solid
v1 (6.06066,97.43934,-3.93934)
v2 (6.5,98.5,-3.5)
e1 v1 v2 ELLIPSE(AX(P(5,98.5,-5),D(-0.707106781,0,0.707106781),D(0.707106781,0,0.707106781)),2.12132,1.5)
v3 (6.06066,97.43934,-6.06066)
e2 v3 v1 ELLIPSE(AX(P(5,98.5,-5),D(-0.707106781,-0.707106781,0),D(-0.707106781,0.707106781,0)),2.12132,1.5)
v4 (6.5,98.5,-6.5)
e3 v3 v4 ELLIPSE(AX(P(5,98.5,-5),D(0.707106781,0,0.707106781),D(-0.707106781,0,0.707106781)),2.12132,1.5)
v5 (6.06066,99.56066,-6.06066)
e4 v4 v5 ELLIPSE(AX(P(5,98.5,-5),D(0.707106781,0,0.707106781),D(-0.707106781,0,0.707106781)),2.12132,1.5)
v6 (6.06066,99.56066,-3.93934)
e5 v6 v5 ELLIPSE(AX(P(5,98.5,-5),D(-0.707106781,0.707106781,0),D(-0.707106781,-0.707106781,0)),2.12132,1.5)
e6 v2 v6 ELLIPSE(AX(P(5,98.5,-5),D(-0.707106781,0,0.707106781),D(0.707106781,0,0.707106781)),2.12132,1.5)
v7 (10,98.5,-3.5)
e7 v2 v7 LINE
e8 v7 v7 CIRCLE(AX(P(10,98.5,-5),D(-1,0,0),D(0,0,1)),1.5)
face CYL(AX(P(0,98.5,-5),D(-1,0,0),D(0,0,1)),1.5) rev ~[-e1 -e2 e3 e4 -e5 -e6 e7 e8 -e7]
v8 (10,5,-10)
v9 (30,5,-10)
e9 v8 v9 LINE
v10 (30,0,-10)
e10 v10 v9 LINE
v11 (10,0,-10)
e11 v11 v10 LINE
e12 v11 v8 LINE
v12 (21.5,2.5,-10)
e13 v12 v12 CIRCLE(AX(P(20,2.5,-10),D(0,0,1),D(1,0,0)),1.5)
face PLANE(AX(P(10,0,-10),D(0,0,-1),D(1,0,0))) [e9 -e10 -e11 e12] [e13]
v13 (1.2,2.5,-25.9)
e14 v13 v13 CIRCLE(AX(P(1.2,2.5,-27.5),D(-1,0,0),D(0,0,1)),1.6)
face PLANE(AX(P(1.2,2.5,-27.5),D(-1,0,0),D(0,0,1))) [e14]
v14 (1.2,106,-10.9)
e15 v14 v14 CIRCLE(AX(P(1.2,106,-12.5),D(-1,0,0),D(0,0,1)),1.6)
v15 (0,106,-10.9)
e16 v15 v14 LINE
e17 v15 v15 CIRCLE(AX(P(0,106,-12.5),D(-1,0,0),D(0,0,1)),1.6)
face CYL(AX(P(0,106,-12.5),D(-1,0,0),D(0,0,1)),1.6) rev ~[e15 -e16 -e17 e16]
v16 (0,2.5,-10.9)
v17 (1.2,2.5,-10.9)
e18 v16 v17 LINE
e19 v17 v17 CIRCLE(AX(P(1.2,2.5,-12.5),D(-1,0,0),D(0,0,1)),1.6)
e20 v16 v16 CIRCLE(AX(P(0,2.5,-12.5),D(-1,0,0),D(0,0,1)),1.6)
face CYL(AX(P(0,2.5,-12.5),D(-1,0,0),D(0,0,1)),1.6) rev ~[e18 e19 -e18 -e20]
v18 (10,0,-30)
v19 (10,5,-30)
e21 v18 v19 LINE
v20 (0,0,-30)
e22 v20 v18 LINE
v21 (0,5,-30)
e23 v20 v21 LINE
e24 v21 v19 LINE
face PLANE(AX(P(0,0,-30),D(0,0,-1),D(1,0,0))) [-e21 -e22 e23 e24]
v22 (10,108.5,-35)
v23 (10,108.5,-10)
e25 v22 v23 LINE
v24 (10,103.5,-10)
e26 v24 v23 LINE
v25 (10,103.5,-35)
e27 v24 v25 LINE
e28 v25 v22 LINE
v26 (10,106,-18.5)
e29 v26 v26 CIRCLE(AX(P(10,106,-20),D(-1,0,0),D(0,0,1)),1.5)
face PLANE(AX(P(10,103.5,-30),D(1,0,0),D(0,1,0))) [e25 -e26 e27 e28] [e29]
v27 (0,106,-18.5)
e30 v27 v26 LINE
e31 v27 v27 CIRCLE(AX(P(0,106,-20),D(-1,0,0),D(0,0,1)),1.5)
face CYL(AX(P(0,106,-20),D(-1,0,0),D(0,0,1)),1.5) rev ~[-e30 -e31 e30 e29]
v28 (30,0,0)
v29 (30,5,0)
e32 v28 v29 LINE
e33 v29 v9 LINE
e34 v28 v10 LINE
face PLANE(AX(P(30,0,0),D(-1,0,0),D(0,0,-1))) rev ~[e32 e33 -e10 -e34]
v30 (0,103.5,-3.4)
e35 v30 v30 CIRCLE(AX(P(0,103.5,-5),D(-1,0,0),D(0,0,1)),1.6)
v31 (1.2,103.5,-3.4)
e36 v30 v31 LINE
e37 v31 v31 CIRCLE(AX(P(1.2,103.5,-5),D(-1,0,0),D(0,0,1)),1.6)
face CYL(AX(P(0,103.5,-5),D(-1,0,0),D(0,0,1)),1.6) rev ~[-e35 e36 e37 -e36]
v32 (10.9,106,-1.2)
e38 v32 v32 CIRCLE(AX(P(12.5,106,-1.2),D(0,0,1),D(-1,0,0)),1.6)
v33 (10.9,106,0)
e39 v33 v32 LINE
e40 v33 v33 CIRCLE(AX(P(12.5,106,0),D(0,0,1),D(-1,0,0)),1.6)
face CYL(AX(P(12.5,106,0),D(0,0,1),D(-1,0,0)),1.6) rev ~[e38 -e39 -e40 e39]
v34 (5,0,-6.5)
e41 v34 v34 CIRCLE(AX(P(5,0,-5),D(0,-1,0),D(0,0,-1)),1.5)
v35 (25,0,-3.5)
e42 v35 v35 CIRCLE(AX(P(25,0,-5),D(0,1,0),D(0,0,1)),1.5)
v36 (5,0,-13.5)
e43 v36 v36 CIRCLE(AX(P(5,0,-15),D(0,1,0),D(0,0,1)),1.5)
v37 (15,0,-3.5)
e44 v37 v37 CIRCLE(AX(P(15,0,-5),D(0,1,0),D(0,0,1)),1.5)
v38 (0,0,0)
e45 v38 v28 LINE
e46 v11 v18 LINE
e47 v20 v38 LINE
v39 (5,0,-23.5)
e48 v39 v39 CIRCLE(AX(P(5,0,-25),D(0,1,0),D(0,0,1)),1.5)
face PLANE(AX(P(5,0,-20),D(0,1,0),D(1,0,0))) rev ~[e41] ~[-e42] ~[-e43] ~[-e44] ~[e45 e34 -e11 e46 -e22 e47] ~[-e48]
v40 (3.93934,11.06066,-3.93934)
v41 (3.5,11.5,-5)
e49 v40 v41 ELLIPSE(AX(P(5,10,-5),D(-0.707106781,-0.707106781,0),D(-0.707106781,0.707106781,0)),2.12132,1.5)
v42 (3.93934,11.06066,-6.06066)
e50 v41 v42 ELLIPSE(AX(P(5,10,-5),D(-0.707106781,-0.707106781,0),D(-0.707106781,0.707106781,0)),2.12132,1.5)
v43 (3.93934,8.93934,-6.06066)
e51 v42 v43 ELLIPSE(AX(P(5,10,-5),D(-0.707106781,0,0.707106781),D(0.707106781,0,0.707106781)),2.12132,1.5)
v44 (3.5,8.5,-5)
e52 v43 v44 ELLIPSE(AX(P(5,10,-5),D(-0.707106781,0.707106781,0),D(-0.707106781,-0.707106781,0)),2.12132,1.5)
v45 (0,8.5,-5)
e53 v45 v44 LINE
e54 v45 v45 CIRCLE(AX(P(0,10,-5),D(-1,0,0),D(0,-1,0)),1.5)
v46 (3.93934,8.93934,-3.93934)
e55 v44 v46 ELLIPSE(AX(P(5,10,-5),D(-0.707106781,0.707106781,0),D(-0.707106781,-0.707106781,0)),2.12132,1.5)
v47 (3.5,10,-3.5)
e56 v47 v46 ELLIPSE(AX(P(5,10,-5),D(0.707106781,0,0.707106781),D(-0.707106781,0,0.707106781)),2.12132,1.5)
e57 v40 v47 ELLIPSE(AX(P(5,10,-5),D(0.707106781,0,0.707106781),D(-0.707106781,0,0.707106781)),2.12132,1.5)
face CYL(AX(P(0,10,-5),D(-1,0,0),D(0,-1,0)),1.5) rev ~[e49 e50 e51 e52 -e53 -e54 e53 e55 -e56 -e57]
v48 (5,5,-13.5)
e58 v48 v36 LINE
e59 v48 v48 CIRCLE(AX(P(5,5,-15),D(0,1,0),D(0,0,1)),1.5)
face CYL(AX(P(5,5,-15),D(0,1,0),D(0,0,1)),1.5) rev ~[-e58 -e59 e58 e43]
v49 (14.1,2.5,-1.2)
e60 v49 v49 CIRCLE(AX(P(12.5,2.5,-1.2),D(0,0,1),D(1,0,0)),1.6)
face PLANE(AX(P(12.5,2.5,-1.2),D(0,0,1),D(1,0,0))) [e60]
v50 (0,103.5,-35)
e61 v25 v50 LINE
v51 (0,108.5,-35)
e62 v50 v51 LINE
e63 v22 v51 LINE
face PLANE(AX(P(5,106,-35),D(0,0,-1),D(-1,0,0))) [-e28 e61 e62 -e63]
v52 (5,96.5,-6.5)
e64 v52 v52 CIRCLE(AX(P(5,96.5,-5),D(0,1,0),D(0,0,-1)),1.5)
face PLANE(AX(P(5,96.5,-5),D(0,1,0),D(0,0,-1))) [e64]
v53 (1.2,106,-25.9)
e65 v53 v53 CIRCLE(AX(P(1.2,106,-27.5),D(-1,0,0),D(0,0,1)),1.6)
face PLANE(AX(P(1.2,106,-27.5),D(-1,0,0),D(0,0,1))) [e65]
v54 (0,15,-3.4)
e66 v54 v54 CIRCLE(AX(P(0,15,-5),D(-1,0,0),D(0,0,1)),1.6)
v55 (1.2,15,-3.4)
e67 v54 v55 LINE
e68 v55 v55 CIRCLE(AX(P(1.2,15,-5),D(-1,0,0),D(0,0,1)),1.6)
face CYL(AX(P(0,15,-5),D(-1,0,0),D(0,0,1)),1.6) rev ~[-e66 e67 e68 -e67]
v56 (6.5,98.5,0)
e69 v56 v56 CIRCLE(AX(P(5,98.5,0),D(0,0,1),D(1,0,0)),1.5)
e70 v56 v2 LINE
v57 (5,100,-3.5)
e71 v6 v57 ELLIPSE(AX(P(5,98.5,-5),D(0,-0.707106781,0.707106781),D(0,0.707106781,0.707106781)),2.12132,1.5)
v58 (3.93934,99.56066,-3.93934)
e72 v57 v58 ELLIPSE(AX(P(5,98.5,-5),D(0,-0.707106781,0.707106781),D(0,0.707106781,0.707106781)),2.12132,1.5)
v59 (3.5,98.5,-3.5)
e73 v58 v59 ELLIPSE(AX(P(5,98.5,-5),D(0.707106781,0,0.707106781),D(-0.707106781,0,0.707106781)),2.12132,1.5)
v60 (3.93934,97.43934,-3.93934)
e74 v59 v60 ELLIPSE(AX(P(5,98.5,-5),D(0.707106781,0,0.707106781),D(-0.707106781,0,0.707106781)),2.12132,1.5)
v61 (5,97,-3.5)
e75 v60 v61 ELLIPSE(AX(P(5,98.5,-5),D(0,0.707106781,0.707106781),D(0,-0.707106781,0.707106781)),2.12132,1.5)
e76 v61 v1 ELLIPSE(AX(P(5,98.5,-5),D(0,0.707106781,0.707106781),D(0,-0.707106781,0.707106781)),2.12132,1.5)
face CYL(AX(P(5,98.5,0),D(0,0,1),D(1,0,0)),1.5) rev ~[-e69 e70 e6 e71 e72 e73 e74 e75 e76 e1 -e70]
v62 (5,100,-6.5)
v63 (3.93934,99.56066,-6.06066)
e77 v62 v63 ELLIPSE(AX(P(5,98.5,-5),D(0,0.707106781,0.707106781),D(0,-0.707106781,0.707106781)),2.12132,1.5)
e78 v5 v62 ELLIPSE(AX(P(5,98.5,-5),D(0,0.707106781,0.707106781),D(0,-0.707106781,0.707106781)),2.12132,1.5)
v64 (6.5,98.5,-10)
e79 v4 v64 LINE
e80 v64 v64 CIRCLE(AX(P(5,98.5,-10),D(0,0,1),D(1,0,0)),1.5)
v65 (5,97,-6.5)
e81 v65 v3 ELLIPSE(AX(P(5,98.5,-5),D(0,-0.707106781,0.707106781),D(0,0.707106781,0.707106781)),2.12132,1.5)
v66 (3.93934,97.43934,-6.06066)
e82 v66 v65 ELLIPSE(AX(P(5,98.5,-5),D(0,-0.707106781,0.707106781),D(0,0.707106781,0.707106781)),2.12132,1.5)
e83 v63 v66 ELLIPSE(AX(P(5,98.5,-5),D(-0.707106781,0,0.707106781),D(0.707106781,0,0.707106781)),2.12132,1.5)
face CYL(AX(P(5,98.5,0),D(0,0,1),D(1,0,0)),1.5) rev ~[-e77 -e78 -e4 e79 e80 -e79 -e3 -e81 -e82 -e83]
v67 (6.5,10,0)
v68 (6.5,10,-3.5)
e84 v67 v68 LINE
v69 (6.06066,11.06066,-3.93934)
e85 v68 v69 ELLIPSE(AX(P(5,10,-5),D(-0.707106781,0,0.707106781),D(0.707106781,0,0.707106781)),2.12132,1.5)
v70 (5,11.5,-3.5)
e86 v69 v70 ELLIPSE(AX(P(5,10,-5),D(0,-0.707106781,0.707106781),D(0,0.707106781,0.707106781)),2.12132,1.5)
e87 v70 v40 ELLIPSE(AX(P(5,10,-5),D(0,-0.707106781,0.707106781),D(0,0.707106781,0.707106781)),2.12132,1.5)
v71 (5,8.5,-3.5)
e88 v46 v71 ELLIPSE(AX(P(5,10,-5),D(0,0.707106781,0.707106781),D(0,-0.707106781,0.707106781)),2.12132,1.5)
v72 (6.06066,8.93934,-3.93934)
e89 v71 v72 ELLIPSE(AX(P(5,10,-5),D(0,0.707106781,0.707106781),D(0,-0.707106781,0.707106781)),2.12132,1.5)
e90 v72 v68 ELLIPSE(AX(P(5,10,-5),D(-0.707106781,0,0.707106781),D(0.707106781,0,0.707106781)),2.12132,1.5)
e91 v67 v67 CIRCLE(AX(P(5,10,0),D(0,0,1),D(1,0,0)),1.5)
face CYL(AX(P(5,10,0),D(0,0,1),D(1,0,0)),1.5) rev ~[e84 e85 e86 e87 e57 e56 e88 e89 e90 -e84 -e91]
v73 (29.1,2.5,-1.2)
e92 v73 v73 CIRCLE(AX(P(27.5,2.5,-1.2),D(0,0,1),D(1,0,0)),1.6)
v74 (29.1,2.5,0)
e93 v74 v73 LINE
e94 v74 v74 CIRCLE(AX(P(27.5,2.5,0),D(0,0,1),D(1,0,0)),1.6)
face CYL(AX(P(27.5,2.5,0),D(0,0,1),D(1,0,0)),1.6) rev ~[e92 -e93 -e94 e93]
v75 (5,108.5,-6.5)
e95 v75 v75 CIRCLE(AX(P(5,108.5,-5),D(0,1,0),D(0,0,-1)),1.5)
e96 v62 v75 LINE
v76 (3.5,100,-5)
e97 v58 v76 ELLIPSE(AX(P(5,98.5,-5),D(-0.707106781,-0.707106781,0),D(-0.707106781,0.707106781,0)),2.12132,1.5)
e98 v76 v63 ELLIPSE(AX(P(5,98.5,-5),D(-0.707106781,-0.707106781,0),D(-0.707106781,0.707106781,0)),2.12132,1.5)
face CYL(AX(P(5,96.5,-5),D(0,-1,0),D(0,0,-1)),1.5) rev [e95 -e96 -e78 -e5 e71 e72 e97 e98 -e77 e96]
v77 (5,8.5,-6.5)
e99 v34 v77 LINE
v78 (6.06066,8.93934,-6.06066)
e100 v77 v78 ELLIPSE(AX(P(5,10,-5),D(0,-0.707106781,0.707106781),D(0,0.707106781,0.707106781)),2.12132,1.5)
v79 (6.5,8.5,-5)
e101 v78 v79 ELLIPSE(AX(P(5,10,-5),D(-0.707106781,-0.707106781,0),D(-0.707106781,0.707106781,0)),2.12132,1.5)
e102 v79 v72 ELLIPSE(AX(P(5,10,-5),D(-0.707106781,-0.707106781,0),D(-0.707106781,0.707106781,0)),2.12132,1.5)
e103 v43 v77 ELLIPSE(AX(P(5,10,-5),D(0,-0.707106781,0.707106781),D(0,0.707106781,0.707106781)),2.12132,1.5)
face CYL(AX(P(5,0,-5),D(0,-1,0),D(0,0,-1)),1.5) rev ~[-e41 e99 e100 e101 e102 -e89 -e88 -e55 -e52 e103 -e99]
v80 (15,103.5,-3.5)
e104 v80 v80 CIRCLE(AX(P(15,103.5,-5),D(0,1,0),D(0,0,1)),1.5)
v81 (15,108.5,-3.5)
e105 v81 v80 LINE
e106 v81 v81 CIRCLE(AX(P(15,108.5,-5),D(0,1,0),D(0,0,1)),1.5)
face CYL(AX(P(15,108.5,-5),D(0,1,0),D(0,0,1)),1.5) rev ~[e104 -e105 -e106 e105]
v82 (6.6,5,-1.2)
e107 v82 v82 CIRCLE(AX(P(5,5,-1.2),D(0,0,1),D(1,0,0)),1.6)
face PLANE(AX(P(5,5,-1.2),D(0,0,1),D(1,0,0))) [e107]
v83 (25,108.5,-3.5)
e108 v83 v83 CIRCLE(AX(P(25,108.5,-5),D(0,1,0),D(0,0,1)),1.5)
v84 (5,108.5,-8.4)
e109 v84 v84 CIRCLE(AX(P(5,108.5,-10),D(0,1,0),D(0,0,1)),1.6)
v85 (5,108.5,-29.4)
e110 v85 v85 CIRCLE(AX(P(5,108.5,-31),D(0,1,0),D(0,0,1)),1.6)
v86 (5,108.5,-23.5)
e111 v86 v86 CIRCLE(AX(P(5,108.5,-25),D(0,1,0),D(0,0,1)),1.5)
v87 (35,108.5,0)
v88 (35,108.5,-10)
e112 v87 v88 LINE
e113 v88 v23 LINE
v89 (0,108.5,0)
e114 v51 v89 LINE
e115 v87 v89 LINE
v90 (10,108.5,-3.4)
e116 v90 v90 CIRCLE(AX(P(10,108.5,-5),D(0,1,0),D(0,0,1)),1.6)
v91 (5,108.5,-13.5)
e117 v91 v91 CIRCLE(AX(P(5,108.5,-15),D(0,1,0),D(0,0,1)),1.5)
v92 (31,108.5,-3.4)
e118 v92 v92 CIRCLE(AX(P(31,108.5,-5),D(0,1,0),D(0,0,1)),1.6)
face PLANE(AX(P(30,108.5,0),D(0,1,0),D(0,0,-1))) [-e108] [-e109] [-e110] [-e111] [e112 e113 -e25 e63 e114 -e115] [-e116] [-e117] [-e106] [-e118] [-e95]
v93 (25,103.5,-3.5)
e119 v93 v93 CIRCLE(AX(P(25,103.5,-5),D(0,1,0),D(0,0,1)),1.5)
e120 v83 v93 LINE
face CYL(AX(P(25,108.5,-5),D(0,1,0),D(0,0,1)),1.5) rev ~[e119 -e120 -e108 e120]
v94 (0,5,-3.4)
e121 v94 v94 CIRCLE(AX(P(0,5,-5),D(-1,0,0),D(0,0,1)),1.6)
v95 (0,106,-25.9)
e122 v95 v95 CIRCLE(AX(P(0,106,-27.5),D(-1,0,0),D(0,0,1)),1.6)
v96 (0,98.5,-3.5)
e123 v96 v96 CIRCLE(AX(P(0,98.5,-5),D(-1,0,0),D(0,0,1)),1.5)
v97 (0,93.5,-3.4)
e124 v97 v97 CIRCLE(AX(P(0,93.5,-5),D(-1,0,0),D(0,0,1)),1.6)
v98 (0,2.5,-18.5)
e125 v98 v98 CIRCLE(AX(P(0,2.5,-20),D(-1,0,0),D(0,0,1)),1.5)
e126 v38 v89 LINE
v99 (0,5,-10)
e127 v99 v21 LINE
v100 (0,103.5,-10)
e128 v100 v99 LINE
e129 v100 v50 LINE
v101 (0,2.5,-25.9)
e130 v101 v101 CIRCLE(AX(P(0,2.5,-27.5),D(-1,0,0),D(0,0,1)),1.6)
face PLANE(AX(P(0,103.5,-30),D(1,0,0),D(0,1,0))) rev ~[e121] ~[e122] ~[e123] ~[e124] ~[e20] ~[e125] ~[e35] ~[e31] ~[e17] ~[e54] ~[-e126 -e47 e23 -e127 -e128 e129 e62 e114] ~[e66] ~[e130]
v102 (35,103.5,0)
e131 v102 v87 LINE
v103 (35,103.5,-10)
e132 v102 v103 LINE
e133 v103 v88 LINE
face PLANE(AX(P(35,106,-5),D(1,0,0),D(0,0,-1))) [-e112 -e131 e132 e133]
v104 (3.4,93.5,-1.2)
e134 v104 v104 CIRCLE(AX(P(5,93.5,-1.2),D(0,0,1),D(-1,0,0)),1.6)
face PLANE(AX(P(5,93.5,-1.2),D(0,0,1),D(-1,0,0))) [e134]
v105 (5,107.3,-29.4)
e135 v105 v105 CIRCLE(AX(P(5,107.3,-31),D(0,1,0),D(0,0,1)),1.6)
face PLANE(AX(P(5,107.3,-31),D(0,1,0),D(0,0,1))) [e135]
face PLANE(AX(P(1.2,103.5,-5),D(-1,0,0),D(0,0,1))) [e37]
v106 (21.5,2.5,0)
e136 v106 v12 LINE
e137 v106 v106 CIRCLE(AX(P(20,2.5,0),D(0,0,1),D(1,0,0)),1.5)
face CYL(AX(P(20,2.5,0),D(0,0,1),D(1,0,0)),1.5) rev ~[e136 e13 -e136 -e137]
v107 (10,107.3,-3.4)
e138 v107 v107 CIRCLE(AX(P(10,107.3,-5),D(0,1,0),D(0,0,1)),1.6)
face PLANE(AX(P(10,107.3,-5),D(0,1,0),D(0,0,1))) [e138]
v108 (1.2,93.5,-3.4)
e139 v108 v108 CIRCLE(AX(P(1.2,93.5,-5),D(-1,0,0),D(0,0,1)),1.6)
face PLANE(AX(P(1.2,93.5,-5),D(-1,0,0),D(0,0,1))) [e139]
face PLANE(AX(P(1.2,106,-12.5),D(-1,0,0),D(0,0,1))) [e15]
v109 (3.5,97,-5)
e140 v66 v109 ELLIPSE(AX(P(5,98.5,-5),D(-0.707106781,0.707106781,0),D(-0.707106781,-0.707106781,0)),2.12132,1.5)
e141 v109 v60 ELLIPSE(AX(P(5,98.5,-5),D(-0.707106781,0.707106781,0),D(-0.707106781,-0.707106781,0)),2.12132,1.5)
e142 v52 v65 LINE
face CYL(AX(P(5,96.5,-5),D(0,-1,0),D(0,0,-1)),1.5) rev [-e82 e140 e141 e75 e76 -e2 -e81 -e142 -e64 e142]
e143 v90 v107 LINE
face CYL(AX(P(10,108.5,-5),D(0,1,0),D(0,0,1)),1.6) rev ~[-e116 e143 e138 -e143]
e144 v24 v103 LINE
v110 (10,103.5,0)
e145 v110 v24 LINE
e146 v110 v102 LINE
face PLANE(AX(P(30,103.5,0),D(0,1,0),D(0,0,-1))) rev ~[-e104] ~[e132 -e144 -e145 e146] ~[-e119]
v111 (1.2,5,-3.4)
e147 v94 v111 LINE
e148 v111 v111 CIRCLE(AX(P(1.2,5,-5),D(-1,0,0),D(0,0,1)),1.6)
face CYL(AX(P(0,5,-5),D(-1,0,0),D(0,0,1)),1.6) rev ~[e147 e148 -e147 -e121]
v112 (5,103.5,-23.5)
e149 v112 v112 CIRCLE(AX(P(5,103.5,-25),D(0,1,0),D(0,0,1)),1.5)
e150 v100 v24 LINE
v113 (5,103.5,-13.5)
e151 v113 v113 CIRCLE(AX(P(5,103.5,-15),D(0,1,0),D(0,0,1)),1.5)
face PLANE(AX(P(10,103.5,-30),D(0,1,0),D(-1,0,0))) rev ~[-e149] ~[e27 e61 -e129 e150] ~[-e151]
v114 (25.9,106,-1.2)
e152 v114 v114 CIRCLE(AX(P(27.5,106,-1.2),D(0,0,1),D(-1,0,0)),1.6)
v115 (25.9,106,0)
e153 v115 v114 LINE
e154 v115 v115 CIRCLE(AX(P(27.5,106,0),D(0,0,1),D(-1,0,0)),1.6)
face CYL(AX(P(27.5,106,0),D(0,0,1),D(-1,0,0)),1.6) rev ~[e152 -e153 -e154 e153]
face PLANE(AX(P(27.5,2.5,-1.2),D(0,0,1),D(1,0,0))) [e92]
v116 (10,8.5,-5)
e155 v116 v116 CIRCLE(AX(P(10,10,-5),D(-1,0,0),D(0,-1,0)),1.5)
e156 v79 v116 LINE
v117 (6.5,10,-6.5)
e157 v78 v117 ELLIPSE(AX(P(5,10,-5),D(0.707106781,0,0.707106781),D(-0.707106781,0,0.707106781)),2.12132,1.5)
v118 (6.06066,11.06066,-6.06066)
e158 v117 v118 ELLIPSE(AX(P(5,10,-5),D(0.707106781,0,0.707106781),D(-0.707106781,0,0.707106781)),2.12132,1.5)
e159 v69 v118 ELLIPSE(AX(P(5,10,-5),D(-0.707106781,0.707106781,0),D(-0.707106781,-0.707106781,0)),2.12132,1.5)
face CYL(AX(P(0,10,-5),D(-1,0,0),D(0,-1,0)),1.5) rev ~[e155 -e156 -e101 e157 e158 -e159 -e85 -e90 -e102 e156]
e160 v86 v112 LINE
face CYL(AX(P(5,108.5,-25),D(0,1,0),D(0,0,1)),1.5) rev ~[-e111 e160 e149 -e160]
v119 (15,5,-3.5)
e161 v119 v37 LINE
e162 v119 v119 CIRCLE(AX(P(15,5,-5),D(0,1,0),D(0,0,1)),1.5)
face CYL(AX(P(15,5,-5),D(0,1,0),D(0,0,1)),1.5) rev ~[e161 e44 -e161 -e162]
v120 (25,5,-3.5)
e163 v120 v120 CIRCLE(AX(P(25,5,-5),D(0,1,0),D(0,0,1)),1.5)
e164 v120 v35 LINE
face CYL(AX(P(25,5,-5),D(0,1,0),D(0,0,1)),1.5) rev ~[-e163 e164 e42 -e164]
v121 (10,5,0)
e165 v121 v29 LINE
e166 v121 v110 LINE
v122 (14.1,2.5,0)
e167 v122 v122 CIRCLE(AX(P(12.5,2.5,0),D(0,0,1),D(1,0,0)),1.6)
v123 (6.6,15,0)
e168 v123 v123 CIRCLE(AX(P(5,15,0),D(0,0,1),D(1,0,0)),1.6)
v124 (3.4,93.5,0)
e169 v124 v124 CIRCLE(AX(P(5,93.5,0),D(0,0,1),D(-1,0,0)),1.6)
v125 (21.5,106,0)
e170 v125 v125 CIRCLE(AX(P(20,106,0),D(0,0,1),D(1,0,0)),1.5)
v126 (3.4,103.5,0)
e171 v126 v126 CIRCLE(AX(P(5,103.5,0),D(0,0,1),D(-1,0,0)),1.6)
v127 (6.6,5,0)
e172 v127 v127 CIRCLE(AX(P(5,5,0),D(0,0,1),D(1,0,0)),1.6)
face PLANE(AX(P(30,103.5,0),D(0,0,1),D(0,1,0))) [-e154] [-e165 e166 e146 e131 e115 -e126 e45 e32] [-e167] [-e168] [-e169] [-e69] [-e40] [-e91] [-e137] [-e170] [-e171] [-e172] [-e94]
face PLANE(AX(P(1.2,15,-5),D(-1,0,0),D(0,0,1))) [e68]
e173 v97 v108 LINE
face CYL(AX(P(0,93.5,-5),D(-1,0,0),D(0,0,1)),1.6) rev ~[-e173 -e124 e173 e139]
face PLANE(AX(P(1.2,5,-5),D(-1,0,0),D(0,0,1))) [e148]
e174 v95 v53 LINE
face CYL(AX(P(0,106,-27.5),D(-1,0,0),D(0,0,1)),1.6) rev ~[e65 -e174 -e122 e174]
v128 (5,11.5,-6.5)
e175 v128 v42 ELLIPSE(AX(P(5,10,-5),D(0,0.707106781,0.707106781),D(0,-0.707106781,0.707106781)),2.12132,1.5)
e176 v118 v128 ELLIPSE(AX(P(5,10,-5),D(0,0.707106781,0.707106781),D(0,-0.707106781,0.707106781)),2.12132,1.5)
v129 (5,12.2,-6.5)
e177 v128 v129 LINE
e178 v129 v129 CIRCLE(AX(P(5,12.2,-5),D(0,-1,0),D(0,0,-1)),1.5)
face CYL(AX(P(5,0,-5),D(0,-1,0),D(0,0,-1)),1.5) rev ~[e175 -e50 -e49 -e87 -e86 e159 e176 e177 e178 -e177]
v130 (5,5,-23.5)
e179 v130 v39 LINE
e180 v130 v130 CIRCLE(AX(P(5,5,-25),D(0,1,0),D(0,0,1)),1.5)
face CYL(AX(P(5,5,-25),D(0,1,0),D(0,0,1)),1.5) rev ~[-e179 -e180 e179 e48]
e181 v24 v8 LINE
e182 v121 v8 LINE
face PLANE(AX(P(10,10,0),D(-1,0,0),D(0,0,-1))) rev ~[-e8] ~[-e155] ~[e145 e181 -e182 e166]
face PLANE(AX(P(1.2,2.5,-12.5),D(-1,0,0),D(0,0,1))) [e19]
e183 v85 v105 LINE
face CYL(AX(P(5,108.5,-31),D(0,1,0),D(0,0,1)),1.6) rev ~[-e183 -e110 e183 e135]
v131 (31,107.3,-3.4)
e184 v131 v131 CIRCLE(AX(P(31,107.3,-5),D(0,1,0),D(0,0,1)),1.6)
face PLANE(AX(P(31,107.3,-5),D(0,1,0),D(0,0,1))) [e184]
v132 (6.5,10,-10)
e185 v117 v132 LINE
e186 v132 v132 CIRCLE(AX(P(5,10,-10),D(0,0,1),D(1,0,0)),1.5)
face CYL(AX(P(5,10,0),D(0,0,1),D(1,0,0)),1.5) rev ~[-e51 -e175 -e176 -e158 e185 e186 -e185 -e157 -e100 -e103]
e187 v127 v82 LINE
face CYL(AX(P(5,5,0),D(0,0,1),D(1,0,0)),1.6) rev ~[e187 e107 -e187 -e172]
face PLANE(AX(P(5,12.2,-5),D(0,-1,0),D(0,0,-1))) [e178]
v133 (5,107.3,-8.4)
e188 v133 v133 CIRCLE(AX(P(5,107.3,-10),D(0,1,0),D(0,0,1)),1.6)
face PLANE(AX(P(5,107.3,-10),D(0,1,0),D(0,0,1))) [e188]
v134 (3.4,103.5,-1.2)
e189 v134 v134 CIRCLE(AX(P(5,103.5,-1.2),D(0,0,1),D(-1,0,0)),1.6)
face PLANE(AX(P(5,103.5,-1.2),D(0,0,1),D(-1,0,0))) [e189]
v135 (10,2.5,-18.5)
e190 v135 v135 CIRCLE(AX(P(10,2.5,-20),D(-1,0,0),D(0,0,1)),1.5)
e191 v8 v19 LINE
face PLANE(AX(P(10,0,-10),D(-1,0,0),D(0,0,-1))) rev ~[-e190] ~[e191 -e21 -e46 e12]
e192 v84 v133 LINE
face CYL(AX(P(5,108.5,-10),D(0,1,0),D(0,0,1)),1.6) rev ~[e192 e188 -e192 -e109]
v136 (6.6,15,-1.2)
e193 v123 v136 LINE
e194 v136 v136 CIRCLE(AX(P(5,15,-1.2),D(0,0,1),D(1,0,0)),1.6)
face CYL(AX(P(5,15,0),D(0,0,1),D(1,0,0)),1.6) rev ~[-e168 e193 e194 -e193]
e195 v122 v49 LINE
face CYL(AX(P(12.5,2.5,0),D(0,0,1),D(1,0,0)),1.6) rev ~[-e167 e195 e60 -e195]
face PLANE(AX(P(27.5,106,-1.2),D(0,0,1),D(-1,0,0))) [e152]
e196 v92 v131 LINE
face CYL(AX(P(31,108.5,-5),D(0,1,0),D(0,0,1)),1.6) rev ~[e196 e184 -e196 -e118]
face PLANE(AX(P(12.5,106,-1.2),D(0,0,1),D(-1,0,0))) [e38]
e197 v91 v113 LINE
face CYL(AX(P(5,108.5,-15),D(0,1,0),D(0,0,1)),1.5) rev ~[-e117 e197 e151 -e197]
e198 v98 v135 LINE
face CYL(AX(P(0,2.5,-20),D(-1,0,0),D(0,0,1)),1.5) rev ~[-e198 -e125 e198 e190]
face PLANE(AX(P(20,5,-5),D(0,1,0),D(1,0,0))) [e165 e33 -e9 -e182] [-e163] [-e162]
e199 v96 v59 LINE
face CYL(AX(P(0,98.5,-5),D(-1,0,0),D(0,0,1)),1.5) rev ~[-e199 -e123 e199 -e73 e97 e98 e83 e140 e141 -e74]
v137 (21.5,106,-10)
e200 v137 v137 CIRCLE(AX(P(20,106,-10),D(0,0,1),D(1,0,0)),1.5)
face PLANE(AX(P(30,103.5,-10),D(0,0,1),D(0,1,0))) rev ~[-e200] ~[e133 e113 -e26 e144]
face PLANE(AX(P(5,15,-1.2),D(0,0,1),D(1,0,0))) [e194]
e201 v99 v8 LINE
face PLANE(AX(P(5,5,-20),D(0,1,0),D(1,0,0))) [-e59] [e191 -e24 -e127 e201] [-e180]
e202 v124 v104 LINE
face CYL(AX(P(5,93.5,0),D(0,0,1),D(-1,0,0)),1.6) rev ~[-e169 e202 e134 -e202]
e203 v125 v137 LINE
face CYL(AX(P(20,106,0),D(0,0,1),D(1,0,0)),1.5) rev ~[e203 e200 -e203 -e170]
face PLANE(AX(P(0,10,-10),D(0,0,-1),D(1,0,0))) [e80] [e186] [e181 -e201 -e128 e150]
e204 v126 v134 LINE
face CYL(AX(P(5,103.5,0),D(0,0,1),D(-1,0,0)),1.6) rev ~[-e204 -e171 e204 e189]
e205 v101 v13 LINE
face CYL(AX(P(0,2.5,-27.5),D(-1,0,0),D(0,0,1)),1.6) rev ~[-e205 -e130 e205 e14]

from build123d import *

# Parameters (mm, degrees)
SKETCH1_W           = 10
SKETCH1_H           = 20
SKETCH1_H_2         = 10
SKETCH1_W_2         = 20
BOSS_EXTRUDE1_DEPTH = 10
SKETCH2_W           = 10
SKETCH2_H           = 10
BOSS_EXTRUDE2_DEPTH = 93.5
SKETCH3_W           = 10
SKETCH3_H           = 20
SKETCH3_H_2         = 10
SKETCH3_W_2         = 20
BOSS_EXTRUDE3_DEPTH = 5
SKETCH4_W           = 20
SKETCH4_H           = 10
SKETCH4_W_2         = 10
SKETCH4_H_2         = 20
CUT_EXTRUDE1_DEPTH  = 5
SKETCH5_R           = 1.6
CUT_EXTRUDE2_DEPTH  = 1.2
SKETCH6_R           = 1.5
CUT_EXTRUDE3_DEPTH  = 10
SKETCH7_R           = 1.6
CUT_EXTRUDE4_DEPTH  = 1.2
SKETCH8_R           = 1.5
CUT_EXTRUDE5_DEPTH  = 10.2
SKETCH9_R           = 1.5
CUT_EXTRUDE6_DEPTH  = 10.2
SKETCH10_R          = 1.5
CUT_EXTRUDE7_DEPTH  = 12.2
SKETCH11_R          = 1.5
CUT_EXTRUDE8_DEPTH  = 10
CUT_EXTRUDE9_START  = -12
SKETCH12_R          = 1.5
CUT_EXTRUDE9_DEPTH  = 12
SKETCH13_R          = 1.6
CUT_EXTRUDE10_DEPTH = 1.2
SKETCH14_W          = 10
SKETCH14_H          = 5
BOSS_EXTRUDE4_DEPTH = 5
SKETCH15_W          = 10
SKETCH15_H          = 5
BOSS_EXTRUDE5_DEPTH = 5
SKETCH16_R          = 1.6
CUT_EXTRUDE11_DEPTH = 1.2


with BuildPart() as part:
    # Sketch1 → Boss-Extrude1 (new body)
    with BuildSketch(Plane(origin=(0, 0, 0), x_dir=(1, 0, 0), z_dir=(0, 1, 0))):
        with Locations((5, 20)):
            Rectangle(SKETCH1_W, SKETCH1_H)
        with Locations((5, 5)):
            Rectangle(SKETCH1_W, SKETCH1_H_2)
        with Locations((20, 5)):
            Rectangle(SKETCH1_W_2, SKETCH1_H_2)
    extrude(amount=BOSS_EXTRUDE1_DEPTH)

    # Sketch2 → Boss-Extrude2 (add)
    with BuildSketch(Plane(origin=(0, 10, 0), x_dir=(1, 0, 0), z_dir=(0, 1, 0))):
        with Locations((5, 5)):
            Rectangle(SKETCH2_W, SKETCH2_H)
    extrude(amount=BOSS_EXTRUDE2_DEPTH)

    # Sketch3 → Boss-Extrude3 (add)
    with BuildSketch(Plane(origin=(0, 103.5, 0), x_dir=(1, 0, 0), z_dir=(0, 1, 0))):
        with Locations((5, 20)):
            Rectangle(SKETCH3_W, SKETCH3_H)
        with Locations((5, 5)):
            Rectangle(SKETCH3_W, SKETCH3_H_2)
        with Locations((20, 5)):
            Rectangle(SKETCH3_W_2, SKETCH3_H_2)
    extrude(amount=BOSS_EXTRUDE3_DEPTH)

    # Sketch4 → Cut-Extrude1 (cut)
    with BuildSketch(Plane(origin=(0, 10, 0), x_dir=(1, 0, 0), z_dir=(0, 1, 0))):
        with Locations((20, 5)):
            Rectangle(SKETCH4_W, SKETCH4_H)
        with Locations((5, 20)):
            Rectangle(SKETCH4_W_2, SKETCH4_H_2)
    extrude(amount=-CUT_EXTRUDE1_DEPTH, mode=Mode.SUBTRACT)

    # Sketch5 → Cut-Extrude2 (cut)
    with BuildSketch(Plane.XY):
        with Locations((5, 5)):
            Circle(SKETCH5_R)
        with Locations((27.5, 2.5)):
            Circle(SKETCH5_R)
        with Locations((5, 15)):
            Circle(SKETCH5_R)
        with Locations((12.5, 2.5)):
            Circle(SKETCH5_R)
        with Locations(Location((27.5, 106, 0), (0, 0, 180))):
            Circle(SKETCH5_R)
        with Locations(Location((12.5, 106, 0), (0, 0, 180))):
            Circle(SKETCH5_R)
        with Locations(Location((5, 103.5, 0), (0, 0, 180))):
            Circle(SKETCH5_R)
        with Locations(Location((5, 93.5, 0), (0, 0, 180))):
            Circle(SKETCH5_R)
    extrude(amount=-CUT_EXTRUDE2_DEPTH, mode=Mode.SUBTRACT)

    # Sketch6 → Cut-Extrude3 (cut)
    with BuildSketch(Plane.XY):
        with Locations((20, 106)):
            Circle(SKETCH6_R)
        with Locations((5, 98.5)):
            Circle(SKETCH6_R)
        with Locations((5, 10)):
            Circle(SKETCH6_R)
        with Locations((20, 2.5)):
            Circle(SKETCH6_R)
    extrude(amount=-CUT_EXTRUDE3_DEPTH, mode=Mode.SUBTRACT)

    # Sketch7 → Cut-Extrude4 (cut)
    with BuildSketch(Plane.ZY):
        with Locations((-27.5, 106)):
            Circle(SKETCH7_R)
        with Locations((-12.5, 106)):
            Circle(SKETCH7_R)
        with Locations((-5, 103.5)):
            Circle(SKETCH7_R)
        with Locations((-5, 93.5)):
            Circle(SKETCH7_R)
        with Locations((-27.5, 2.5)):
            Circle(SKETCH7_R)
        with Locations((-12.5, 2.5)):
            Circle(SKETCH7_R)
        with Locations((-5, 5)):
            Circle(SKETCH7_R)
        with Locations((-5, 15)):
            Circle(SKETCH7_R)
    extrude(amount=-CUT_EXTRUDE4_DEPTH, mode=Mode.SUBTRACT)

    # Sketch8 → Cut-Extrude5 (cut)
    with BuildSketch(Plane.ZY):
        with Locations((-20, 106)):
            Circle(SKETCH8_R)
        with Locations((-5, 98.5)):
            Circle(SKETCH8_R)
        with Locations(Location((-5, 10, 0), (0, 0, 270))):
            Circle(SKETCH8_R)
        with Locations((-20, 2.5)):
            Circle(SKETCH8_R)
    extrude(amount=-CUT_EXTRUDE5_DEPTH, mode=Mode.SUBTRACT)

    # Sketch9 → Cut-Extrude6 (cut)
    with BuildSketch(Plane(origin=(0, 5, 0), x_dir=(1, 0, 0), z_dir=(0, 1, 0))):
        with Locations(Location((25, 5, 0), (0, 0, 270))):
            Circle(SKETCH9_R)
        with Locations(Location((15, 5, 0), (0, 0, 270))):
            Circle(SKETCH9_R)
        with Locations(Location((5, 15, 0), (0, 0, 270))):
            Circle(SKETCH9_R)
        with Locations(Location((5, 25, 0), (0, 0, 270))):
            Circle(SKETCH9_R)
    extrude(amount=-CUT_EXTRUDE6_DEPTH, mode=Mode.SUBTRACT)

    # Sketch10 → Cut-Extrude7 (cut)
    with BuildSketch(Plane.XZ):
        with Locations(Location((5, -5, 0), (0, 0, 270))):
            Circle(SKETCH10_R)
    extrude(amount=-CUT_EXTRUDE7_DEPTH, mode=Mode.SUBTRACT)

    # Sketch11 → Cut-Extrude8 (cut)
    with BuildSketch(Plane(origin=(0, 108.5, 0), x_dir=(1, 0, 0), z_dir=(0, 1, 0))):
        with Locations(Location((5, 15, 0), (0, 0, 270))):
            Circle(SKETCH11_R)
        with Locations(Location((5, 25, 0), (0, 0, 270))):
            Circle(SKETCH11_R)
        with Locations(Location((15, 5, 0), (0, 0, 270))):
            Circle(SKETCH11_R)
        with Locations(Location((25, 5, 0), (0, 0, 270))):
            Circle(SKETCH11_R)
    extrude(amount=-CUT_EXTRUDE8_DEPTH, mode=Mode.SUBTRACT)

    # Sketch12 → Cut-Extrude9 (cut)
    with BuildSketch(Plane(origin=(0, 108.5, 0), x_dir=(1, 0, 0), z_dir=(0, 1, 0)).offset(CUT_EXTRUDE9_START)):
        with Locations(Location((5, 5, 0), (0, 0, 90))):
            Circle(SKETCH12_R)
    extrude(amount=CUT_EXTRUDE9_DEPTH, mode=Mode.SUBTRACT)

    # Sketch13 → Cut-Extrude10 (cut)
    with BuildSketch(Plane(origin=(0, 108.5, 0), x_dir=(1, 0, 0), z_dir=(0, 1, 0))):
        with Locations(Location((10, 5, 0), (0, 0, 270))):
            Circle(SKETCH13_R)
        with Locations(Location((5, 10, 0), (0, 0, 270))):
            Circle(SKETCH13_R)
    extrude(amount=-CUT_EXTRUDE10_DEPTH, mode=Mode.SUBTRACT)

    # Sketch14 → Boss-Extrude4 (add)
    with BuildSketch(Plane(origin=(0, 0, -30), x_dir=(-1, 0, 0), z_dir=(0, 0, -1))):
        with Locations((-5, 106)):
            Rectangle(SKETCH14_W, SKETCH14_H)
    extrude(amount=BOSS_EXTRUDE4_DEPTH)

    # Sketch15 → Boss-Extrude5 (add)
    with BuildSketch(Plane(origin=(30, 0, 0), x_dir=(0, 0, -1), z_dir=(1, 0, 0))):
        with Locations((5, 106)):
            Rectangle(SKETCH15_W, SKETCH15_H)
    extrude(amount=BOSS_EXTRUDE5_DEPTH)

    # Sketch16 → Cut-Extrude11 (cut)
    with BuildSketch(Plane(origin=(0, 108.5, 0), x_dir=(1, 0, 0), z_dir=(0, 1, 0))):
        with Locations(Location((31, 5, 0), (0, 0, 270))):
            Circle(SKETCH16_R)
        with Locations(Location((5, 31, 0), (0, 0, 270))):
            Circle(SKETCH16_R)
    extrude(amount=-CUT_EXTRUDE11_DEPTH, mode=Mode.SUBTRACT)


solid = part.part
